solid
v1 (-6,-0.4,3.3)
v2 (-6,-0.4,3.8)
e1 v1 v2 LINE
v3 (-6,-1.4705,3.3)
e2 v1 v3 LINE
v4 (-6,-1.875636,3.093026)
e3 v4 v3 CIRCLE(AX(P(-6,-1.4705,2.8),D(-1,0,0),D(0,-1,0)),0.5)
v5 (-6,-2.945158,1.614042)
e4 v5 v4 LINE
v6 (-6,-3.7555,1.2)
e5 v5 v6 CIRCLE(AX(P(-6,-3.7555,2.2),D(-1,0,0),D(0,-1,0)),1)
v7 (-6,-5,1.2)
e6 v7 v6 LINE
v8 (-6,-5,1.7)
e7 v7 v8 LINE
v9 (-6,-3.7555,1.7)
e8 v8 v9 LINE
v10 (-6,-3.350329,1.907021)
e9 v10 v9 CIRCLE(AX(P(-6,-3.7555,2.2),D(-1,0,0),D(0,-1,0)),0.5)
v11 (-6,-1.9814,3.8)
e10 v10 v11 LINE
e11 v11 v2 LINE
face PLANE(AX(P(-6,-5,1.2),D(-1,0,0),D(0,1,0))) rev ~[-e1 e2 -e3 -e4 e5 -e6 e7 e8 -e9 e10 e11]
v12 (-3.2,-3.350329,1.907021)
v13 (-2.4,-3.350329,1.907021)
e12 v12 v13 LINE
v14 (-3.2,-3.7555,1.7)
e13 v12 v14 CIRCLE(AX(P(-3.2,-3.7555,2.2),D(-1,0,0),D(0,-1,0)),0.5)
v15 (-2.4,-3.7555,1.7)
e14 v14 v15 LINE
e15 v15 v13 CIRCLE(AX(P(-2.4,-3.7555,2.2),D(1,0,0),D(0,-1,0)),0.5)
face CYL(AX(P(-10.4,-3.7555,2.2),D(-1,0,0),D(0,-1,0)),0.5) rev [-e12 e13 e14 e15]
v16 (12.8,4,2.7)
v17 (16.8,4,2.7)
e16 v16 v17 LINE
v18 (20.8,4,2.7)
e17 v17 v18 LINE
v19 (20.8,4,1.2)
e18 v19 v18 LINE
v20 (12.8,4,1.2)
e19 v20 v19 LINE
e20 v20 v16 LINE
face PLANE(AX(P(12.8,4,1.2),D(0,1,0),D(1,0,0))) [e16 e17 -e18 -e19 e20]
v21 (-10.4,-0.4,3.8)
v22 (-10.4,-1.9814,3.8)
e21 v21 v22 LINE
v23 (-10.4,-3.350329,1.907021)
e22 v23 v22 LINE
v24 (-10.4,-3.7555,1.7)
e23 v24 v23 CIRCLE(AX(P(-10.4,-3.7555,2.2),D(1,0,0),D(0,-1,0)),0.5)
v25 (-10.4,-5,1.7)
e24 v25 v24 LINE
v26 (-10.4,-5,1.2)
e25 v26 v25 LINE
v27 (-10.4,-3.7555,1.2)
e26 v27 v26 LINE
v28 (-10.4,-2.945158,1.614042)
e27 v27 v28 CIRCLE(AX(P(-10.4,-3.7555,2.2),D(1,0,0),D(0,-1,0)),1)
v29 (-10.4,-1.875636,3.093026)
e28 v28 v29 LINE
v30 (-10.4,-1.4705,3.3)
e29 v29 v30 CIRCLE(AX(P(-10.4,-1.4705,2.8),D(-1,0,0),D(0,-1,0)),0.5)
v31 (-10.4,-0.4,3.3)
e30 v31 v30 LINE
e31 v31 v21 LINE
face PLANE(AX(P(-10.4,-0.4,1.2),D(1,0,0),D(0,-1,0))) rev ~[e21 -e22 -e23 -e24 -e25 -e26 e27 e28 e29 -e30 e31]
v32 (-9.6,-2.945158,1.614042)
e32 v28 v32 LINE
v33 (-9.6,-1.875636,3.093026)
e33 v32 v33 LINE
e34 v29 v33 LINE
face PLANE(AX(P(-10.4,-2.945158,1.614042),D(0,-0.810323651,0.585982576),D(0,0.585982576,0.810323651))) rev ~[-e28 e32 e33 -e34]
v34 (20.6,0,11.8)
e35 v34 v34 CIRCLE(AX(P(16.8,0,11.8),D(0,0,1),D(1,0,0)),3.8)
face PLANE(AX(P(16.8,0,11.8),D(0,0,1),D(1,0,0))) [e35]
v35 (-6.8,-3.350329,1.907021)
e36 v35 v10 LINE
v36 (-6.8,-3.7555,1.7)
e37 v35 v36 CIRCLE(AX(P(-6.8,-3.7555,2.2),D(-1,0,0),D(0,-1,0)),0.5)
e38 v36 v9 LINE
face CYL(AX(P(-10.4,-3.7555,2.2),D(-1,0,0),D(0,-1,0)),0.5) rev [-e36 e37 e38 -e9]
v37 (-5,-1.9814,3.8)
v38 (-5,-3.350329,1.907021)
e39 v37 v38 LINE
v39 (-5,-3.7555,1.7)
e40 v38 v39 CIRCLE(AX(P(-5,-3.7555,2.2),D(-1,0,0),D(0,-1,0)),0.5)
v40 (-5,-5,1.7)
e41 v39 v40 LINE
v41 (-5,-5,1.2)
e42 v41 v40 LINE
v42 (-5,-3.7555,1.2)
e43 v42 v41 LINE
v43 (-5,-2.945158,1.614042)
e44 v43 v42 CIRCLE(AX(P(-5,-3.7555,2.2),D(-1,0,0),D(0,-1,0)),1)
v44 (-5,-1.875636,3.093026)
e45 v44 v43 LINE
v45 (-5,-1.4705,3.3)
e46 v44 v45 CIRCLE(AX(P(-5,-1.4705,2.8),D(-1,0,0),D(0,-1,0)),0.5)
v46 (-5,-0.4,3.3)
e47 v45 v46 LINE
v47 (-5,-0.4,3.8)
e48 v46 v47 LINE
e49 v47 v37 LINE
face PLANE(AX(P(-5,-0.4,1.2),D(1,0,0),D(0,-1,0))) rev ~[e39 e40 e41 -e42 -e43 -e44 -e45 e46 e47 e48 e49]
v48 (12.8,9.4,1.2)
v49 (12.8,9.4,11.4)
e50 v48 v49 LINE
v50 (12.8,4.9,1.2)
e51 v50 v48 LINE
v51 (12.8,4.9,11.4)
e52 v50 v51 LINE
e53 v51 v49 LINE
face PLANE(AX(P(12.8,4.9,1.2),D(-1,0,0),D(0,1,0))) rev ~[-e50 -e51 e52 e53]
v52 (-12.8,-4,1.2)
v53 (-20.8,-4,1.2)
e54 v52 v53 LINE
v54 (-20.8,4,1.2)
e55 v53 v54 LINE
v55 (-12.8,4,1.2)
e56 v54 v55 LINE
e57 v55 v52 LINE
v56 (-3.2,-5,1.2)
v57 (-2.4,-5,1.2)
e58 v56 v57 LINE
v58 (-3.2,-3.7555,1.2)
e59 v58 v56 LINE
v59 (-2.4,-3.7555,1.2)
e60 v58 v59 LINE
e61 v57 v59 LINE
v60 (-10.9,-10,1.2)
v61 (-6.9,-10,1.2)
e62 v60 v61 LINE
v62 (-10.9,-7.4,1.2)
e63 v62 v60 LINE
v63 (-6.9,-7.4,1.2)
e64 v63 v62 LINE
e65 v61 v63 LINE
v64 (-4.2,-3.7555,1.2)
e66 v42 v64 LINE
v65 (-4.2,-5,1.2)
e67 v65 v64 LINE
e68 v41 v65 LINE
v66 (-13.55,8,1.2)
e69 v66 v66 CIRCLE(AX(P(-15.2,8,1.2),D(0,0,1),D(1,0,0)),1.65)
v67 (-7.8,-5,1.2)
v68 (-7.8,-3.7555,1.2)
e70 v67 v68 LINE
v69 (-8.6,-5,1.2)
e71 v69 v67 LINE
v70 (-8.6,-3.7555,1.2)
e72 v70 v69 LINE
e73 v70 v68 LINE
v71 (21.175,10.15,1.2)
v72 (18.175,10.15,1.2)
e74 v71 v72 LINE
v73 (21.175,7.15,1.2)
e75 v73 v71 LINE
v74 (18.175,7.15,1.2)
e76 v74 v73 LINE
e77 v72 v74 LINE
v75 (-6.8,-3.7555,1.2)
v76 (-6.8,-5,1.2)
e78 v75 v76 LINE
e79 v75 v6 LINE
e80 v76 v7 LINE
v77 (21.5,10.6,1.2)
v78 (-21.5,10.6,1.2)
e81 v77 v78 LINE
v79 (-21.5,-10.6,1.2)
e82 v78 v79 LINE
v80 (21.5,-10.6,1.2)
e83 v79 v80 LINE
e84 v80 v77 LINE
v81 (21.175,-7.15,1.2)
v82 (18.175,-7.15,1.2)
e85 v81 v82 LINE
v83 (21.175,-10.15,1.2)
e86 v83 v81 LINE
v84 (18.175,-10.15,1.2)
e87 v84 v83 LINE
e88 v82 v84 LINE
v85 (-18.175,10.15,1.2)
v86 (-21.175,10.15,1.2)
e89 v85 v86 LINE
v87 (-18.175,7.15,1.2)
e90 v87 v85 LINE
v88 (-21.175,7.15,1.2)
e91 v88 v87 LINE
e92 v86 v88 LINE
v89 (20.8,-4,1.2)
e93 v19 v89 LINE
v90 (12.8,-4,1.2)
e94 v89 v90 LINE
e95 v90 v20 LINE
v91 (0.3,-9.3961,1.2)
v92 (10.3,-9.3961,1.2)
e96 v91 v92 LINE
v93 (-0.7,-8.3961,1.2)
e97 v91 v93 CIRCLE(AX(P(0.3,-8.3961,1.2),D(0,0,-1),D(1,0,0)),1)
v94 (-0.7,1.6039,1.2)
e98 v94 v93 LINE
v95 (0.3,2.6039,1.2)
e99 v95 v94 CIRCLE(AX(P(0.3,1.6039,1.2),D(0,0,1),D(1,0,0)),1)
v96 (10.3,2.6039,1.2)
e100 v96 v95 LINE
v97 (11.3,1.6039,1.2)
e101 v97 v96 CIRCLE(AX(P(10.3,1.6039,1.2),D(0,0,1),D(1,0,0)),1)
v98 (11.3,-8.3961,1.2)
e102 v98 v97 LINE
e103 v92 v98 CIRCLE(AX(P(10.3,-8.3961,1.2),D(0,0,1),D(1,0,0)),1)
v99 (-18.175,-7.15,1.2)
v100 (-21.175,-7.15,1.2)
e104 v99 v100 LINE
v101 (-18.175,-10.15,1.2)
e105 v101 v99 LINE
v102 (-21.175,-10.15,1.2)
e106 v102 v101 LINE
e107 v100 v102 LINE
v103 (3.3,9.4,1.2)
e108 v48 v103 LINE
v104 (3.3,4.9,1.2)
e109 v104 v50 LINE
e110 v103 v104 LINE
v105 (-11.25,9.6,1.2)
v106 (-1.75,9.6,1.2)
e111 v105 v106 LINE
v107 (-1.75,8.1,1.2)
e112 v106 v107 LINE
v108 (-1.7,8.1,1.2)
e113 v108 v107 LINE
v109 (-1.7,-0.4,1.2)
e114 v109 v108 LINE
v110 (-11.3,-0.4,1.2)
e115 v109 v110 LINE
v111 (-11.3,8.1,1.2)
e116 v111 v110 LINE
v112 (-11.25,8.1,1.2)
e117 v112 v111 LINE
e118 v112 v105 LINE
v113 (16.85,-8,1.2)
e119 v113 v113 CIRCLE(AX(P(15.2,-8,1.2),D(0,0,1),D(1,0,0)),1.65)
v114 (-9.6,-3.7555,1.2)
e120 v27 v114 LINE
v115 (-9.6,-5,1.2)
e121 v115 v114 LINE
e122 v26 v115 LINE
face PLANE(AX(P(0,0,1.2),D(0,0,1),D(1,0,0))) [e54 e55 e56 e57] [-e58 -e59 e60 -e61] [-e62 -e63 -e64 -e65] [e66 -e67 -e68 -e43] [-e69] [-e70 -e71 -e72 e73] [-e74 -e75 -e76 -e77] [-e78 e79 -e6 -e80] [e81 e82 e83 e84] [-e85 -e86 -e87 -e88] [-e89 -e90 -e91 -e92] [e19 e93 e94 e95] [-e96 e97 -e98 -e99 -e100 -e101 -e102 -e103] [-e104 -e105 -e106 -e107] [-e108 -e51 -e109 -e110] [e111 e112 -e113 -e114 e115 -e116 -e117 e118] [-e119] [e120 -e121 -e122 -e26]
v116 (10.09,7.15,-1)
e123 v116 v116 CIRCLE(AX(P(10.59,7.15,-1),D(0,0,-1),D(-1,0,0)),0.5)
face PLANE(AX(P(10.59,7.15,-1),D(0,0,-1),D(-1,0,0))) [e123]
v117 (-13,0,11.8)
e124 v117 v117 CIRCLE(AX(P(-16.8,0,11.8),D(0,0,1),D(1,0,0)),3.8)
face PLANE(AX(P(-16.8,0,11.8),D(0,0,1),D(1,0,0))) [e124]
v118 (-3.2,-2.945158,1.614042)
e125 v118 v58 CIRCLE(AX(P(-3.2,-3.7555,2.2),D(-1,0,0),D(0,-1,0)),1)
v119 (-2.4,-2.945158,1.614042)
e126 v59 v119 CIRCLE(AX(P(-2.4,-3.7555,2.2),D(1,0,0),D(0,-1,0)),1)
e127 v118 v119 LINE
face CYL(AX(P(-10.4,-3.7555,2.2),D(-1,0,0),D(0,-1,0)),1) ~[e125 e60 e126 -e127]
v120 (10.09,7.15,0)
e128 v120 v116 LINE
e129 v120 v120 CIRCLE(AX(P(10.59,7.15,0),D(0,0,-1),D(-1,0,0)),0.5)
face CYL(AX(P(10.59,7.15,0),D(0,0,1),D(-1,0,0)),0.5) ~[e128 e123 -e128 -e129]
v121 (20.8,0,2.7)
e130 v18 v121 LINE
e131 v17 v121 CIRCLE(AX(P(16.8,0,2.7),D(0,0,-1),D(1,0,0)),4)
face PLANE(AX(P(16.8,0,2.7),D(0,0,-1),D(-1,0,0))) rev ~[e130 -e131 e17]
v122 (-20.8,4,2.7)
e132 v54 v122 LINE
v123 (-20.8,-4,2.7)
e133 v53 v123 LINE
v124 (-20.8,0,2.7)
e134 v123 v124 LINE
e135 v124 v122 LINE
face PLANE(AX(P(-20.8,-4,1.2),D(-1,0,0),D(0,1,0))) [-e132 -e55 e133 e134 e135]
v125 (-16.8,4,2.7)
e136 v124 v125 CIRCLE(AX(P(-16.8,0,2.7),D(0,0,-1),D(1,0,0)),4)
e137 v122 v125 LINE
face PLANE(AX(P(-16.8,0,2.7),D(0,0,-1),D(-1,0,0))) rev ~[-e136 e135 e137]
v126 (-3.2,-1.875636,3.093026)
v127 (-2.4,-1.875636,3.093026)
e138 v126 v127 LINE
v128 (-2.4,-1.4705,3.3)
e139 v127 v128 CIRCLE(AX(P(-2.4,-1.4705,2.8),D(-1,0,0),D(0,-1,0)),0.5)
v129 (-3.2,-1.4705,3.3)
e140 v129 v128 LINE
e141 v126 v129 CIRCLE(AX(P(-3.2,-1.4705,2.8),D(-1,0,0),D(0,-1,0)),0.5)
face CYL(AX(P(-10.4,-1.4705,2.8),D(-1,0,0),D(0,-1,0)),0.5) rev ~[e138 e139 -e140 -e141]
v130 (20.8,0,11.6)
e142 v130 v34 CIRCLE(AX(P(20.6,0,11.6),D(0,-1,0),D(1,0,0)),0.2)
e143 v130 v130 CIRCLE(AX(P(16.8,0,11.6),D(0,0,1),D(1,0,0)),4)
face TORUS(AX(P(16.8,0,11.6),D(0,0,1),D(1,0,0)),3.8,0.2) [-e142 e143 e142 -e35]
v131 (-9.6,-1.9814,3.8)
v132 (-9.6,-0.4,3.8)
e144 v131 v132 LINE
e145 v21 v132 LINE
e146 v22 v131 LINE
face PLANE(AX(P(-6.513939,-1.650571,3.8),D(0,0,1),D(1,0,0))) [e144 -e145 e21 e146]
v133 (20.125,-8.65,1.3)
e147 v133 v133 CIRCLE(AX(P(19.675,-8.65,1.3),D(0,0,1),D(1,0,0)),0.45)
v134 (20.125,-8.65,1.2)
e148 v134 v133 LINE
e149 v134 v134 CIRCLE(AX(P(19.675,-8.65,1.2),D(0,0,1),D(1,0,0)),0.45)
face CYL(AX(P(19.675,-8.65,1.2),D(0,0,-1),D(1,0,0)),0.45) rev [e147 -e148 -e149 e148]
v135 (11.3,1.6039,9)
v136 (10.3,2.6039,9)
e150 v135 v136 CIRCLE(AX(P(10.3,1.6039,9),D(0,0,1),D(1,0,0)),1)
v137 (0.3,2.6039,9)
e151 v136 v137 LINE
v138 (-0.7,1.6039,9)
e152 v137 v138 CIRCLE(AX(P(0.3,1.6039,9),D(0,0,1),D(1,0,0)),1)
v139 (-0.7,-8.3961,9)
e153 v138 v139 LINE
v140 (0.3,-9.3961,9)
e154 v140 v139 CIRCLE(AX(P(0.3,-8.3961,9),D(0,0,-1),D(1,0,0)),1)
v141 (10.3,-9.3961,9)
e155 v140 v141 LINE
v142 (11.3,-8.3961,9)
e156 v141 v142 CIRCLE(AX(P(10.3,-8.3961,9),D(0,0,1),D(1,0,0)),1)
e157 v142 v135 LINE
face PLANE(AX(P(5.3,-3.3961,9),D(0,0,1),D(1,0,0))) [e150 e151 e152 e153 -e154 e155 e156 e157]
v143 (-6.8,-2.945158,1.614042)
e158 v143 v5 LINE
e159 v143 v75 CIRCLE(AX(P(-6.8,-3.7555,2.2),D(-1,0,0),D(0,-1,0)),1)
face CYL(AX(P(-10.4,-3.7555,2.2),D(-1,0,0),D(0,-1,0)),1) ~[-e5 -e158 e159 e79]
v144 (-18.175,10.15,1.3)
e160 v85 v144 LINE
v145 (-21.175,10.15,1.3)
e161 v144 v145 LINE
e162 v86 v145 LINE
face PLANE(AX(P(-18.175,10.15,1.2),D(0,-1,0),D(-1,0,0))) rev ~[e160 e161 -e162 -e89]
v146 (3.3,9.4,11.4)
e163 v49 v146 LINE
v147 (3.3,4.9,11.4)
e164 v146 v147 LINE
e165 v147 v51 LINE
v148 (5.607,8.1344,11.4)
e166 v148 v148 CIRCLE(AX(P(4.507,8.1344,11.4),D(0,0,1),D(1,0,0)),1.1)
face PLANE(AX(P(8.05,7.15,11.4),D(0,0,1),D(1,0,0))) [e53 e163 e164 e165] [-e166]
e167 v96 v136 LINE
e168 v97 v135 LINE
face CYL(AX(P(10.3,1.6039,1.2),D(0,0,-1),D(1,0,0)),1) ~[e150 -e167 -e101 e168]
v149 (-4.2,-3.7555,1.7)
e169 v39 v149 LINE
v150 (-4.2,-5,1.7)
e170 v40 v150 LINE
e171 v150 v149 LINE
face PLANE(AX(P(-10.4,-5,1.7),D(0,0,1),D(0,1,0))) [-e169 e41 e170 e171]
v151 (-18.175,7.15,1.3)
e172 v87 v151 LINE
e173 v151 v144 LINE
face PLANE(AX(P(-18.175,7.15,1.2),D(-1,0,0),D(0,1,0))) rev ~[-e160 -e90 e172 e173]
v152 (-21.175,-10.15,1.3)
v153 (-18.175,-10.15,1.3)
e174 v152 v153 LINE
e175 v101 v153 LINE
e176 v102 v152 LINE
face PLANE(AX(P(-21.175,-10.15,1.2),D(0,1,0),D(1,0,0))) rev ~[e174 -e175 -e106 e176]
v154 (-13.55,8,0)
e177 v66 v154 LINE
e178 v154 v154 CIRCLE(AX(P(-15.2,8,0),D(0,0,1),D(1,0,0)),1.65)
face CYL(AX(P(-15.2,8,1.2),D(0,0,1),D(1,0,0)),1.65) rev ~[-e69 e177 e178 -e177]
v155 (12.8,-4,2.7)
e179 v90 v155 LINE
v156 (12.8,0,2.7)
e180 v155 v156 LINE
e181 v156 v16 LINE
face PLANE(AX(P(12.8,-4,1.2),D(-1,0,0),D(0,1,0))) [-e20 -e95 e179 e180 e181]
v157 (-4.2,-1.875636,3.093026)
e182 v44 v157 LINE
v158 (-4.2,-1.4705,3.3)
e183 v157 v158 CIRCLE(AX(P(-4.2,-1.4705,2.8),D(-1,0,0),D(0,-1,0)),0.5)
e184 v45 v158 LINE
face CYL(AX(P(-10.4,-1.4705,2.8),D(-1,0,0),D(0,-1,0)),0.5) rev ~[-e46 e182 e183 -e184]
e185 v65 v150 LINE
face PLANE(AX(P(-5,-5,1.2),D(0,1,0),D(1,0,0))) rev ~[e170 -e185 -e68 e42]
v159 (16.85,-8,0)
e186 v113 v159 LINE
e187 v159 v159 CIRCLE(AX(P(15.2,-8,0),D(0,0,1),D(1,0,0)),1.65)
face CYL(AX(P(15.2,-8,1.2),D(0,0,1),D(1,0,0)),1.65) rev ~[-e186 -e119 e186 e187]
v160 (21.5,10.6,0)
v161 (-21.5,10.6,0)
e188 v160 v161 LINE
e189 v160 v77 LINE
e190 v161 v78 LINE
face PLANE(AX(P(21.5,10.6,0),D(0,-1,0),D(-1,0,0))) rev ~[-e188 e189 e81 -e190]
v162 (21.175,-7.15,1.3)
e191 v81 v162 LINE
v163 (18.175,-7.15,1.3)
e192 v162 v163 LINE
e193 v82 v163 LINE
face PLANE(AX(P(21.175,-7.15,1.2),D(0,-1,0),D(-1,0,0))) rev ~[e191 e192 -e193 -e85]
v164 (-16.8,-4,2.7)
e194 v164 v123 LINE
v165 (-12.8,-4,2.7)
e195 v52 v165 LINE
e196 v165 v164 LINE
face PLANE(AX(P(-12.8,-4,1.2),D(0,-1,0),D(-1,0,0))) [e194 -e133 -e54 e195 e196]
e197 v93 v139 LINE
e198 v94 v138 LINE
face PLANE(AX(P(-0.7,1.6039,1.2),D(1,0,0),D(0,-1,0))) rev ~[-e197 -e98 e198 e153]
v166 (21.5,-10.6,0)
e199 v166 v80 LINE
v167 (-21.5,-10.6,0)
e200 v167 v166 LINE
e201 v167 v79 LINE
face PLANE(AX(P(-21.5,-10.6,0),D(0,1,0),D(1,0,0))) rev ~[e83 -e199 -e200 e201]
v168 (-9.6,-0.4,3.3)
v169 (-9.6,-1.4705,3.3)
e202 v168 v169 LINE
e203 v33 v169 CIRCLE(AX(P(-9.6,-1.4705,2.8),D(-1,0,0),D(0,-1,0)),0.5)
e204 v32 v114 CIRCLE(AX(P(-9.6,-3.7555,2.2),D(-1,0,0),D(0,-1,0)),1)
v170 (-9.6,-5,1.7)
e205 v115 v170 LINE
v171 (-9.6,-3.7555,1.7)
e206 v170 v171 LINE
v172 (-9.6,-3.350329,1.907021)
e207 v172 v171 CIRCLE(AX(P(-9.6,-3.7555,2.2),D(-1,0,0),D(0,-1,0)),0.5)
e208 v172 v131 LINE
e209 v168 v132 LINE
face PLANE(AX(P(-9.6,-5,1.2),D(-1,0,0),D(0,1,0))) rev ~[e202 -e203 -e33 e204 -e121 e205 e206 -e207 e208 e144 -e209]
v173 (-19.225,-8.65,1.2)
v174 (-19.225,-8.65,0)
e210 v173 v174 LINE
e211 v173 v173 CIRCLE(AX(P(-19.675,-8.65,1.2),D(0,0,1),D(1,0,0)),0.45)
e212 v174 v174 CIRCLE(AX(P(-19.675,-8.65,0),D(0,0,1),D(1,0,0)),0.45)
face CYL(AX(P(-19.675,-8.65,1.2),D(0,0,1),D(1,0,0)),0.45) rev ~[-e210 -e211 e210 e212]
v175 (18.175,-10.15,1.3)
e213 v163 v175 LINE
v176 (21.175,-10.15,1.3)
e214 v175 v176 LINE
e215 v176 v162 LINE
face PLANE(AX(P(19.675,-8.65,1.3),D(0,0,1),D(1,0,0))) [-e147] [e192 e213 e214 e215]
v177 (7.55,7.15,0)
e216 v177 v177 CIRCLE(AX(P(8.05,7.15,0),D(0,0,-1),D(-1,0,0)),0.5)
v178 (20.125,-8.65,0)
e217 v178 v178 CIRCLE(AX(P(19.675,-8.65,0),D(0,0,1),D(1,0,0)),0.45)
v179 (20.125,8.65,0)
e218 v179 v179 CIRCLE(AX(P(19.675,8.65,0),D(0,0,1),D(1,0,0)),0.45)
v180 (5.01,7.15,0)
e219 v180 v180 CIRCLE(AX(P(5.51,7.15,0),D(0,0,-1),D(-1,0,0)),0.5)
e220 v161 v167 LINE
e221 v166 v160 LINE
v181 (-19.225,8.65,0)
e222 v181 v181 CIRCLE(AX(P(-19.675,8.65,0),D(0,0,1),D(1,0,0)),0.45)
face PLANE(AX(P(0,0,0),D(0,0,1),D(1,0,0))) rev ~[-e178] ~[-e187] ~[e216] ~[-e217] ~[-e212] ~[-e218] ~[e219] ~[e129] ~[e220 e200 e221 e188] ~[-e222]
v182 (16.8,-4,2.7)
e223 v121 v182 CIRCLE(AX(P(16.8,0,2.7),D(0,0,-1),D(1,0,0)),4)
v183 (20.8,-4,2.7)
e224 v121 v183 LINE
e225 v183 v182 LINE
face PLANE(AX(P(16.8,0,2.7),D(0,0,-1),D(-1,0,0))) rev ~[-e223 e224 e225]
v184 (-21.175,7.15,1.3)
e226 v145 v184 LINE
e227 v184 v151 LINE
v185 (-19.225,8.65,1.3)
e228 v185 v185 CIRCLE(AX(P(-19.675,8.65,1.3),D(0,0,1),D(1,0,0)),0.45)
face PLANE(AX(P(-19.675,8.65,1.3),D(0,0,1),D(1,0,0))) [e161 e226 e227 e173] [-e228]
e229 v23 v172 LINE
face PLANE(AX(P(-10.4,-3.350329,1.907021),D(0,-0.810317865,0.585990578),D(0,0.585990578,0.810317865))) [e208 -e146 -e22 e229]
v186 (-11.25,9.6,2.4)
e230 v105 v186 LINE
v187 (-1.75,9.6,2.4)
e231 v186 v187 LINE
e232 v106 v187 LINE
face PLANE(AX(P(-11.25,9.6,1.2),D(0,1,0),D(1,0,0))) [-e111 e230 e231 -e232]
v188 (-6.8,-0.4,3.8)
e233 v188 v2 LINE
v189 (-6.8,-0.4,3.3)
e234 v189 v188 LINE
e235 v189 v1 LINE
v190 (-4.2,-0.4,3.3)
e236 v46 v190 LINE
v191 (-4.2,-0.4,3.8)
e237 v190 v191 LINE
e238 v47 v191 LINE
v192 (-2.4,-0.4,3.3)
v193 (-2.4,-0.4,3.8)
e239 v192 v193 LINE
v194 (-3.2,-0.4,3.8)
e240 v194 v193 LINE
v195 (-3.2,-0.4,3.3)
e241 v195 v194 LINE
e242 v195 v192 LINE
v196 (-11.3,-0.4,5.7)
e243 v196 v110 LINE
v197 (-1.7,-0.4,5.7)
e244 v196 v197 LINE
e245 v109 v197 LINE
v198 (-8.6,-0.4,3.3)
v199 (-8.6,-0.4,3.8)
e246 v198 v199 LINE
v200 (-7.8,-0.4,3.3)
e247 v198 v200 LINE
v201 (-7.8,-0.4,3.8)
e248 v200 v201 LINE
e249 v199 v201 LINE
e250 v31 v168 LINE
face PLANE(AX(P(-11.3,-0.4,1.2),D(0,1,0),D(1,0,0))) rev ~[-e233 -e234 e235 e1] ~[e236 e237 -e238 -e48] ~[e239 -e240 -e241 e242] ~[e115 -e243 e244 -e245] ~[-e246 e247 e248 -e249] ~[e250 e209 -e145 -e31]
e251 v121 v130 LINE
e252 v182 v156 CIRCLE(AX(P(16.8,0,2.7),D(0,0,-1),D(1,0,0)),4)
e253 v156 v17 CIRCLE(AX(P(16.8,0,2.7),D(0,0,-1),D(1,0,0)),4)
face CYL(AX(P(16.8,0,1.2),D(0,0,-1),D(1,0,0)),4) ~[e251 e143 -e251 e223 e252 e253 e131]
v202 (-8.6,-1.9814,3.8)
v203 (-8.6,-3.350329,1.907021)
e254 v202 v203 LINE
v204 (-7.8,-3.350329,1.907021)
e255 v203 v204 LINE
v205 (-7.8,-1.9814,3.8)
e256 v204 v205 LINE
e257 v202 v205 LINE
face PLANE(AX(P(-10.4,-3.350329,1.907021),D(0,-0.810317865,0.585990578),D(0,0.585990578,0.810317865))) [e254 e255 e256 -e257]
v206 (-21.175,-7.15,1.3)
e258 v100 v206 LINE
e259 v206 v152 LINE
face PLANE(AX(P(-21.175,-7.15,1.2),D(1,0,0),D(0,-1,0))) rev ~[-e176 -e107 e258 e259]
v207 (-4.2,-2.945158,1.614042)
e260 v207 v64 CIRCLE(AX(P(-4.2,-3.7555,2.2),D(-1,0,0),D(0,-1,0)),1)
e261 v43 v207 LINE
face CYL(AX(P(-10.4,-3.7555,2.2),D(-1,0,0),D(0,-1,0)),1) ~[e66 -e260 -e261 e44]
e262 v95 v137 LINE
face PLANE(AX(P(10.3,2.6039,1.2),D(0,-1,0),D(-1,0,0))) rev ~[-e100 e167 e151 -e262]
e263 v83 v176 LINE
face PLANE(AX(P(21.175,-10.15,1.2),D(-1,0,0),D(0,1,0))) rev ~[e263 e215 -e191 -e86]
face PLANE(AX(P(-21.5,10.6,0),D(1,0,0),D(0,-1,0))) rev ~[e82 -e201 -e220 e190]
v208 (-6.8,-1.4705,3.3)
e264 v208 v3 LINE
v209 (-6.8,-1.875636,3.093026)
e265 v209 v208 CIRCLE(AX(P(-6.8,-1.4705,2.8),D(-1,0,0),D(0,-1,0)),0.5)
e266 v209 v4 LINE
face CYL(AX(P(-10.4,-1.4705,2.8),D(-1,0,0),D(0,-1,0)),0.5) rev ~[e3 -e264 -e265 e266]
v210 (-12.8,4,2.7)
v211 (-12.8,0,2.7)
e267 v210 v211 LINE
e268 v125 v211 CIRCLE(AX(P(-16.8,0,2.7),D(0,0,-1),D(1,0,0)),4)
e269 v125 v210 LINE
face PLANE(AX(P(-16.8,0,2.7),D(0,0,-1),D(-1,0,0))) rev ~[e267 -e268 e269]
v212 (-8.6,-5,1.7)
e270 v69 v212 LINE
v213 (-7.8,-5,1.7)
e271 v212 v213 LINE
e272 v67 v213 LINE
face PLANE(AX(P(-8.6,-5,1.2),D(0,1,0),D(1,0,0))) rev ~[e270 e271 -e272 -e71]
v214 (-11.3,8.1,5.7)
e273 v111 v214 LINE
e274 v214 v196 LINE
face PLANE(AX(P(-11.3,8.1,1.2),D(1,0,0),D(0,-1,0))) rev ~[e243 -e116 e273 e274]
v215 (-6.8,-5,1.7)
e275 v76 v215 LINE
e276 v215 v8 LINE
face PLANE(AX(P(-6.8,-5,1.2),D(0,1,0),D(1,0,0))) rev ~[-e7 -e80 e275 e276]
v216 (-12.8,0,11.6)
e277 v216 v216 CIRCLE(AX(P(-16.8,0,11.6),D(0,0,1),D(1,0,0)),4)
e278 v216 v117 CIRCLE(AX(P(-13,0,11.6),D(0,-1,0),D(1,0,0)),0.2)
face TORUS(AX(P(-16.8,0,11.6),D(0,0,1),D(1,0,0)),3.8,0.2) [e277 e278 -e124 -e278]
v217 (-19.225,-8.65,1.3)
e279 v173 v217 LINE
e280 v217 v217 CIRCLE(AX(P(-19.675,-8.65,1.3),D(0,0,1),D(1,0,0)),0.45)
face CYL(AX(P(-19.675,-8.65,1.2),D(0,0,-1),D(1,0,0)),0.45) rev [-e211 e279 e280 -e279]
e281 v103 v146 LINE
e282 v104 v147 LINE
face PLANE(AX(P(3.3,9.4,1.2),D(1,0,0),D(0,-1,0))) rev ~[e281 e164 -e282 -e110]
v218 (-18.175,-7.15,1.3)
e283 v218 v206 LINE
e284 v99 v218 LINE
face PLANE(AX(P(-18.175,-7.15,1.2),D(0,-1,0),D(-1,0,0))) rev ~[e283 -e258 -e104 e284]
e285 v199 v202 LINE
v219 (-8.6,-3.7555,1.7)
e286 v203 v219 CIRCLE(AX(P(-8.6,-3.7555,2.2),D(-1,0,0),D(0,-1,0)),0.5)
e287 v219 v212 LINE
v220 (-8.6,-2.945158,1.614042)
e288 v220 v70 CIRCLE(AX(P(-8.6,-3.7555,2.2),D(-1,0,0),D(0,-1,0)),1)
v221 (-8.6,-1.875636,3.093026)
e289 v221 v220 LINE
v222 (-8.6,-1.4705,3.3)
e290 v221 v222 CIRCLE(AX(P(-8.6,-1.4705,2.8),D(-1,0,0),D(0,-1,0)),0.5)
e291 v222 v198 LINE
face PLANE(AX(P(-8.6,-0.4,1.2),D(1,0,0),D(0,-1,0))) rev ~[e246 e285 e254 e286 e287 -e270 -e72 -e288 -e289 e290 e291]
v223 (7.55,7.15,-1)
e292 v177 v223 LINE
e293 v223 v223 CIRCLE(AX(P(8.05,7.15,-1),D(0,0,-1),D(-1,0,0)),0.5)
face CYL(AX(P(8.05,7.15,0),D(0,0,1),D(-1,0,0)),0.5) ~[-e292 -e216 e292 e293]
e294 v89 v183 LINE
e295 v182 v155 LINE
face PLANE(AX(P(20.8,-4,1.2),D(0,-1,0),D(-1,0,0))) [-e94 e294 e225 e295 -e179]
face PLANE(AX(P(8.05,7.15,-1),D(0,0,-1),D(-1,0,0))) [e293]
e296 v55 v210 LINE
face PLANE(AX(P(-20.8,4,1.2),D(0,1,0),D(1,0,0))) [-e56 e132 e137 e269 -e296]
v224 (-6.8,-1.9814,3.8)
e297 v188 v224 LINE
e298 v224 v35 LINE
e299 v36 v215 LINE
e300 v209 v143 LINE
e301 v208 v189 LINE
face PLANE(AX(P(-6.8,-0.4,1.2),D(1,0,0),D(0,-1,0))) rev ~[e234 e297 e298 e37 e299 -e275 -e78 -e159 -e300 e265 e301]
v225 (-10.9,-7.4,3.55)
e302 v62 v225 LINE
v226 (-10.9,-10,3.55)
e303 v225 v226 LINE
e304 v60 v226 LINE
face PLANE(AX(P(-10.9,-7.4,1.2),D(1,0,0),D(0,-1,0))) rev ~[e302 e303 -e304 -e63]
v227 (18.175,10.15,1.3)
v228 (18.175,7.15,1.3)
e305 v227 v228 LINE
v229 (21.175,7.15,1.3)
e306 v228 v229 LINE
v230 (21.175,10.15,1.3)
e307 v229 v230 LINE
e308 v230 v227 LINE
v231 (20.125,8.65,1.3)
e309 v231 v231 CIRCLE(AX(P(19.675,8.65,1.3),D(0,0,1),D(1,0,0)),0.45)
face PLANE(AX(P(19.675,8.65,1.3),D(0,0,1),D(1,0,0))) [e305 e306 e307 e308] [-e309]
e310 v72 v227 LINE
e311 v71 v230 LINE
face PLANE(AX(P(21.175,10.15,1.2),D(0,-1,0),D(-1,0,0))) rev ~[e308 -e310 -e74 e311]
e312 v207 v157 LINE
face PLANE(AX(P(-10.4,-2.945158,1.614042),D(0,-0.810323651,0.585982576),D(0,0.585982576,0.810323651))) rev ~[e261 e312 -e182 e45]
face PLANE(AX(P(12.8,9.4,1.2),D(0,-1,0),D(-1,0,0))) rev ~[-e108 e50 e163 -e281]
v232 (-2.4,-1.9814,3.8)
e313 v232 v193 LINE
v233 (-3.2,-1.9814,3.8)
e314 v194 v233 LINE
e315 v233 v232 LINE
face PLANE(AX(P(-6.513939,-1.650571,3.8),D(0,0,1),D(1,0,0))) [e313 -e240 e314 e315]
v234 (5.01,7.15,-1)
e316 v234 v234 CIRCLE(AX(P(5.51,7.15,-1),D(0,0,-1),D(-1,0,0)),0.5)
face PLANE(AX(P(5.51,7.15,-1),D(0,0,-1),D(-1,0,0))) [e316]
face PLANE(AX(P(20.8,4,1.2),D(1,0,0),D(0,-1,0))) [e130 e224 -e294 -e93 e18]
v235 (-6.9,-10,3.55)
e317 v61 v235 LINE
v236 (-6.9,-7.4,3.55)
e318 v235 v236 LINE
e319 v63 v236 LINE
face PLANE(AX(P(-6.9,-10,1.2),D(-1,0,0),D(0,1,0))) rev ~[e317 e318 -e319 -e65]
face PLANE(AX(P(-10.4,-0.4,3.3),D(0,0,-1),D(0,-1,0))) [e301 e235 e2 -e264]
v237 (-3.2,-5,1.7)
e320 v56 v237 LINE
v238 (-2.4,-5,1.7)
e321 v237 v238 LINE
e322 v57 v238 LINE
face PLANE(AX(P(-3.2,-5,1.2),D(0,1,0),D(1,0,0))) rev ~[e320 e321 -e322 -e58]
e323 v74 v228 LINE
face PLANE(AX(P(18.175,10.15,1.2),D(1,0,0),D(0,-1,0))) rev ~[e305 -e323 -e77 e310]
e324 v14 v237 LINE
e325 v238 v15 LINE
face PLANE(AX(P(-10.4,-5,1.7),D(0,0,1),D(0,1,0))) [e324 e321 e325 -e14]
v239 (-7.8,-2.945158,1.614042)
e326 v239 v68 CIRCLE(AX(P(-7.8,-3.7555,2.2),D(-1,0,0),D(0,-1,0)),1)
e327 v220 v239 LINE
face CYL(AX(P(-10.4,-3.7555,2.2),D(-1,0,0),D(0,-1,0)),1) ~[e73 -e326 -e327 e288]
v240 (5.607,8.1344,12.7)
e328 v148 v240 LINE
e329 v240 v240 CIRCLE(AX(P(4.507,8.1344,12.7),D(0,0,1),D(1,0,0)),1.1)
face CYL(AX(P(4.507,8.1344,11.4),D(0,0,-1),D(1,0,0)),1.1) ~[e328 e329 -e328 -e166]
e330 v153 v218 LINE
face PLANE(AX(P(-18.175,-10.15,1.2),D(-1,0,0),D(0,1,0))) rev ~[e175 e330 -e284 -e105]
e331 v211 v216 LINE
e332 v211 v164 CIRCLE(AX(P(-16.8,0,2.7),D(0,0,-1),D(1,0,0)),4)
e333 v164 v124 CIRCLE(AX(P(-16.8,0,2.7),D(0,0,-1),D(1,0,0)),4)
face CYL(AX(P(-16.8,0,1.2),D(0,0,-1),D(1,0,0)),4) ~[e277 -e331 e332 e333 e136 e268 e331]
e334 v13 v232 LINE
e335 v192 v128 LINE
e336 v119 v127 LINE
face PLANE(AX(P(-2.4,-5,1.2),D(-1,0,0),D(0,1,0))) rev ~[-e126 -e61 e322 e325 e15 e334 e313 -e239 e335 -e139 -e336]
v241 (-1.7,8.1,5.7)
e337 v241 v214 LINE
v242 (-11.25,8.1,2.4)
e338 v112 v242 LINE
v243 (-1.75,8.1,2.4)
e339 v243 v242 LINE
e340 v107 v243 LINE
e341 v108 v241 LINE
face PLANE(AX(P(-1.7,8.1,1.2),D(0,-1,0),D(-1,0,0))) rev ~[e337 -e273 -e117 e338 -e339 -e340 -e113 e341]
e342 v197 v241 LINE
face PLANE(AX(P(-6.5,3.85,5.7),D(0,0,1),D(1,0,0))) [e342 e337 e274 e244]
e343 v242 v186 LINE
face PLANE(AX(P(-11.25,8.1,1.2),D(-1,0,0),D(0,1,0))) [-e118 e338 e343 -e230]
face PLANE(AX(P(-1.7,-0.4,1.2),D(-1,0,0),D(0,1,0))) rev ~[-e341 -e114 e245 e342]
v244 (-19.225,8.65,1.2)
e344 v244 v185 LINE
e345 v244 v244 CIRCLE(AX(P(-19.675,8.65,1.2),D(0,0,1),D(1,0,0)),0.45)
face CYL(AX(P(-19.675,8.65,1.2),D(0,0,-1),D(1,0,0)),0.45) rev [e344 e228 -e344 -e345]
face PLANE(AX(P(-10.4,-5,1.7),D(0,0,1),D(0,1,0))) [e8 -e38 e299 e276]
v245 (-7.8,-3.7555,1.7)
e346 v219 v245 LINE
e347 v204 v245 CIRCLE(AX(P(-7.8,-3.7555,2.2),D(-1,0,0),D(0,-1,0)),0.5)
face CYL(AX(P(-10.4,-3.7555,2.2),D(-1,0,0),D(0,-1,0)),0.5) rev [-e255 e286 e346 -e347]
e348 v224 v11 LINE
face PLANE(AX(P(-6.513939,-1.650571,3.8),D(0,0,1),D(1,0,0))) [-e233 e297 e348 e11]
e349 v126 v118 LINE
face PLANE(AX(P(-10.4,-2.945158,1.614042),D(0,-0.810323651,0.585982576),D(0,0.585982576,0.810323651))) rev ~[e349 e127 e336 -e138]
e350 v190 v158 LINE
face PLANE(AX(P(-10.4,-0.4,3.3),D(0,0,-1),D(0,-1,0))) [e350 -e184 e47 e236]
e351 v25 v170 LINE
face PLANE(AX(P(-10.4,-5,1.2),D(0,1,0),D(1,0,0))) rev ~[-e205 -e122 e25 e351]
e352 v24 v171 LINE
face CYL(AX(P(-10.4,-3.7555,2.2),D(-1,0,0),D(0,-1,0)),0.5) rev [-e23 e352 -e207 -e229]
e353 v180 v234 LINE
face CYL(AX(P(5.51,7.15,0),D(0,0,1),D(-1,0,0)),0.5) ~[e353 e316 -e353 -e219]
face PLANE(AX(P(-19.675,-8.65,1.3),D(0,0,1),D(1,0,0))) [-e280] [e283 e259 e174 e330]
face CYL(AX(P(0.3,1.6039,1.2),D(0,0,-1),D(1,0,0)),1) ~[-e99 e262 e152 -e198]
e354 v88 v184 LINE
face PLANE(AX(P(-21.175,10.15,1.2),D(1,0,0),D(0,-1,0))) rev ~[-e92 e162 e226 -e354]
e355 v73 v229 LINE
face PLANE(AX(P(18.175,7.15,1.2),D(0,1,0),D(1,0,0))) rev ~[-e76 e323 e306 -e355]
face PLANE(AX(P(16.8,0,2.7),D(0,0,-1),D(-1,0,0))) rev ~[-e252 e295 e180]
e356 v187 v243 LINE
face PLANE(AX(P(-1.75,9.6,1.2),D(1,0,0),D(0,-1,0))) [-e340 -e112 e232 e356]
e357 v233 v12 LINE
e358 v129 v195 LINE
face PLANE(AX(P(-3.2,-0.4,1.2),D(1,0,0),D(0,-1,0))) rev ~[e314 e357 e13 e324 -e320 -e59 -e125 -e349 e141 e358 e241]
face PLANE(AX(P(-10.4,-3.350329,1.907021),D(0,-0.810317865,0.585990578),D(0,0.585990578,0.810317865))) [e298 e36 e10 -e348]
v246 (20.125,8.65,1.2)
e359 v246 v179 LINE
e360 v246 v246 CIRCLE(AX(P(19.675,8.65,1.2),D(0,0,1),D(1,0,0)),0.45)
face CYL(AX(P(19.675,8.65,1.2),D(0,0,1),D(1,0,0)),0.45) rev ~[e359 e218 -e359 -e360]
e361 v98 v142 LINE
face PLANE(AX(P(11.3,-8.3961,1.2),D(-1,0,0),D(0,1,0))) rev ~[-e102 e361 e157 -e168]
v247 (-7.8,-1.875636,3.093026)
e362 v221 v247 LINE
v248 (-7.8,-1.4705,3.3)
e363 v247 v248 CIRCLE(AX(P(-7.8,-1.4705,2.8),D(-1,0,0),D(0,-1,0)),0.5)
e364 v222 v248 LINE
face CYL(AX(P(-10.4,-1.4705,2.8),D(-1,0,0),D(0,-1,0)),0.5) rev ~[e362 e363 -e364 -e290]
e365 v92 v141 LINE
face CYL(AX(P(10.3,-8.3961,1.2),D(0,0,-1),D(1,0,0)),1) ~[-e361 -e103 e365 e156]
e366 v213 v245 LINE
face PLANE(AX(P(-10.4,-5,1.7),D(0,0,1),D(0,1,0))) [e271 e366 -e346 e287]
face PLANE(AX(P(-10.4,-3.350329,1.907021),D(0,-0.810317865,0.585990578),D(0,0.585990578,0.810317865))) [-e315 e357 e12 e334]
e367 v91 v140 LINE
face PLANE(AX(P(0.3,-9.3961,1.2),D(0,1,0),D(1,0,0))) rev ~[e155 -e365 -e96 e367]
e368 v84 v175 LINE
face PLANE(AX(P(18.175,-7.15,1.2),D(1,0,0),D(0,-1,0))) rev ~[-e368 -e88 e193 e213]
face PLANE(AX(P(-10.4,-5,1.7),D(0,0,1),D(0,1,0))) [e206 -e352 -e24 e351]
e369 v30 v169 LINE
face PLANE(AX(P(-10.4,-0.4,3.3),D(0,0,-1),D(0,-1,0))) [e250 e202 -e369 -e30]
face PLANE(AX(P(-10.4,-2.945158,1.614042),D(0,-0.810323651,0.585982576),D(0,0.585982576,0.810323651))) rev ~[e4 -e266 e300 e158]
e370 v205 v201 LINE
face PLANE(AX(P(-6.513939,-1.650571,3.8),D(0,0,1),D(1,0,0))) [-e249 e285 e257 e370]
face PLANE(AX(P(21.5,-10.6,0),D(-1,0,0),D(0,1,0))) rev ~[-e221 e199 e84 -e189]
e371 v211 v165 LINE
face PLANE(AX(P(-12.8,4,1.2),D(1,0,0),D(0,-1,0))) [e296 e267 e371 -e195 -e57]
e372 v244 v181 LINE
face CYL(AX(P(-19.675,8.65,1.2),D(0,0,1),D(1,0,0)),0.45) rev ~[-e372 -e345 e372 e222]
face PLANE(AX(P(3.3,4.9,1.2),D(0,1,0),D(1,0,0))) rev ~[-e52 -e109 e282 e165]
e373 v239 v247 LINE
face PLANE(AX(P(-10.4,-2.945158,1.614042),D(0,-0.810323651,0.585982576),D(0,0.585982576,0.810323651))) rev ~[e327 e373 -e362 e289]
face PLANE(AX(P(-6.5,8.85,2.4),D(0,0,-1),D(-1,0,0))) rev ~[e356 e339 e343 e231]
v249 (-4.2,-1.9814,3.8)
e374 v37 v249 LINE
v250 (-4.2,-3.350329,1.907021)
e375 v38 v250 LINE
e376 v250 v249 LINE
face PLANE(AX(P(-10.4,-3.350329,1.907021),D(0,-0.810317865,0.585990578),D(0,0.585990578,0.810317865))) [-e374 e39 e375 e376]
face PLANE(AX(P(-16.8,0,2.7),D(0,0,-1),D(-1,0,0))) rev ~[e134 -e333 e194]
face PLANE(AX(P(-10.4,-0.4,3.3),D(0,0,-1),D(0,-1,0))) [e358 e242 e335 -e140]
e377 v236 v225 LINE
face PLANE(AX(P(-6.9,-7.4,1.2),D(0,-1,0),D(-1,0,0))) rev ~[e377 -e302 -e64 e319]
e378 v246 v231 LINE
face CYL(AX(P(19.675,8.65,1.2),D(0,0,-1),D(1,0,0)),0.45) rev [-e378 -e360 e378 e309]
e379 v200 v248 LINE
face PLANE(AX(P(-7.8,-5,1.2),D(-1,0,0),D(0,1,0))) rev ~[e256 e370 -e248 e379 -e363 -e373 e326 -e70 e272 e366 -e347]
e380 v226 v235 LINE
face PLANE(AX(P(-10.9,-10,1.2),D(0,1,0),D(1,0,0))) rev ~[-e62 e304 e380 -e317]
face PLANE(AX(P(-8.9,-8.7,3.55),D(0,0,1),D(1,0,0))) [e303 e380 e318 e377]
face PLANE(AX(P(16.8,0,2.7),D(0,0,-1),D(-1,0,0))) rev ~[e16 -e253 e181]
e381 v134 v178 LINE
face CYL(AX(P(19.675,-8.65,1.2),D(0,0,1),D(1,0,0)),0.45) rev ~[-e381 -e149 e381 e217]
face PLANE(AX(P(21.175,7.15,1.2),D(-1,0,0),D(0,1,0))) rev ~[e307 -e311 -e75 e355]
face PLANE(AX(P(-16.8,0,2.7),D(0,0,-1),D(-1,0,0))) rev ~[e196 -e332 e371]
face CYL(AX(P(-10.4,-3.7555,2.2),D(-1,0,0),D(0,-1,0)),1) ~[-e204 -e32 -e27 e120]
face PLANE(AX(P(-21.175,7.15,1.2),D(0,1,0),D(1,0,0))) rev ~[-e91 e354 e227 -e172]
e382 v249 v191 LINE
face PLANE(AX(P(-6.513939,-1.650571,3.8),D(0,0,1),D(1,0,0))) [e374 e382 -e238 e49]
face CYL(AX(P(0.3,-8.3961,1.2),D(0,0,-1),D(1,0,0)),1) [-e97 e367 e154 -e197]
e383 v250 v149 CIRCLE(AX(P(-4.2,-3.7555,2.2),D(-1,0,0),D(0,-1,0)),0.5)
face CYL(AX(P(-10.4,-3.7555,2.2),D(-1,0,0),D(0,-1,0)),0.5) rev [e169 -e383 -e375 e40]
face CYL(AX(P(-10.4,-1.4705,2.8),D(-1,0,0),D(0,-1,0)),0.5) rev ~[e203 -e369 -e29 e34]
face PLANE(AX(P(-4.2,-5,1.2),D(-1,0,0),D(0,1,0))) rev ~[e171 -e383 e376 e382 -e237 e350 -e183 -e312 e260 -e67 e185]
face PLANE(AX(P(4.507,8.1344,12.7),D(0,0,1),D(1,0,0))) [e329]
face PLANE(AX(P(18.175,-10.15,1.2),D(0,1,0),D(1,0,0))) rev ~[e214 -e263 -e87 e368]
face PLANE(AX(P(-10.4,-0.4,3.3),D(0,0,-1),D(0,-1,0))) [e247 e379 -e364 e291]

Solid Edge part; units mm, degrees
sketch "Sketch1" plane through (0, 0, 0) normal (0, 0, 1) x (1, 0, 0)
  line L0 (-21.5, -10.6) -> (21.5, -10.6)
  line L1 (21.5, -10.6) -> (21.5, 10.6)
  line L2 (21.5, 10.6) -> (-21.5, 10.6)
  line L3 (-21.5, 10.6) -> (-21.5, -10.6)
  dimension "D1" = 43
  dimension "D2" = 21.2
extrude "Protrusion1" add sketch "Sketch1" along normal blind 1.2
sketch "Sketch2" plane through (0, 0, 1.2) normal (0, 0, 1) x (1, 0, 0)
  circle A0 centre (-16.8, 0) radius 4
  circle A1 centre (16.8, 0) radius 4
  dimension "D1" = 8
  dimension "D2" = 8
extrude "ExtrudedProtrusion_2" add sketch "Sketch2" along normal blind 10.6
sketch "Sketch3" plane through (0, 0, 1.2) normal (0, 0, 1) x (1, 0, 0)
  line L0 (-12.8, -4) -> (-20.8, -4)
  line L1 (-20.8, -4) -> (-20.8, 4)
  line L2 (-20.8, 4) -> (-12.8, 4)
  line L3 (-12.8, 4) -> (-12.8, -4)
  line L4 (20.8, -4) -> (12.8, -4)
  line L5 (12.8, -4) -> (12.8, 4)
  line L6 (12.8, 4) -> (20.8, 4)
  line L7 (20.8, 4) -> (20.8, -4)
extrude "ExtrudedProtrusion_3" add sketch "Sketch3" along normal blind 1.5
sketch "Sketch4" plane through (0, 0, 1.2) normal (0, 0, 1) x (1, 0, 0)
  line L0 (0.3, -9.3961) -> (10.3, -9.3961)
  arc A0 (10.3, -9.3961) -> (11.3, -8.3961) centre (10.3, -8.3961) ccw
  line L1 (11.3, -8.3961) -> (11.3, 1.6039)
  arc A1 (11.3, 1.6039) -> (10.3, 2.6039) centre (10.3, 1.6039) ccw
  line L2 (10.3, 2.6039) -> (0.3, 2.6039)
  arc A2 (0.3, 2.6039) -> (-0.7, 1.6039) centre (0.3, 1.6039) ccw
  line L3 (-0.7, 1.6039) -> (-0.7, -8.3961)
  arc A3 (0.3, -9.3961) -> (-0.7, -8.3961) centre (0.3, -8.3961) cw
  dimension "D1" = 10
  dimension "D2" = 10
  dimension "D3" = 1
  dimension "D4" = 1
  dimension "D5" = 1
  dimension "D6" = 1
extrude "ExtrudedProtrusion_4" add sketch "Sketch4" along normal blind 7.8
sketch "Sketch5" plane through (0, 0, 1.2) normal (0, 0, 1) x (1, 0, 0)
  line L0 (3.3, 4.9) -> (12.8, 4.9)
  line L1 (12.8, 4.9) -> (12.8, 9.4)
  line L2 (12.8, 9.4) -> (3.3, 9.4)
  line L3 (3.3, 9.4) -> (3.3, 4.9)
  dimension "D1" = 9.5
  dimension "D2" = 4.5
extrude "ExtrudedProtrusion_5" add sketch "Sketch5" along normal blind 10.2
sketch "Sketch6" plane through (8.05, 7.15, 11.4) normal (0, 0, 1) x (1, 0, 0)
  circle A0 centre (-3.543, 0.9844) radius 1.1
  dimension "D1" = 2.2
extrude "ExtrudedProtrusion_6" add sketch "Sketch6" along normal blind 1.3
sketch "Sketch7" plane through (0, 0, 1.2) normal (0, 0, 1) x (1, 0, 0)
  line L0 (-10.9, -10) -> (-6.9, -10)
  line L1 (-6.9, -10) -> (-6.9, -7.4)
  line L2 (-6.9, -7.4) -> (-10.9, -7.4)
  line L3 (-10.9, -7.4) -> (-10.9, -10)
  dimension "D1" = 4
  dimension "D2" = 2.6
extrude "ExtrudedProtrusion_7" add sketch "Sketch7" along normal blind 2.35
sketch "Sketch8" plane through (0, 0, 1.2) normal (0, 0, 1) x (1, 0, 0)
  line L0 (-11.3, -0.4) -> (-1.7, -0.4)
  line L1 (-1.7, -0.4) -> (-1.7, 8.1)
  line L2 (-1.7, 8.1) -> (-11.3, 8.1)
  line L3 (-11.3, 8.1) -> (-11.3, -0.4)
  dimension "D1" = 9.6
  dimension "D2" = 8.5
extrude "ExtrudedProtrusion_8" add sketch "Sketch8" along normal blind 4.5
sketch "Sketch9" plane through (0, 0, 1.2) normal (0, 0, 1) x (0, -1, 0)
  line L0 (-8.1, -11.25) -> (-9.6, -11.25)
  line L1 (-9.6, -11.25) -> (-9.6, -1.75)
  line L2 (-9.6, -1.75) -> (-8.1, -1.75)
  line L3 (-8.1, -1.75) -> (-8.1, -11.25)
extrude "ExtrudedProtrusion_9" add sketch "Sketch9" along normal blind 1.2
sketch "Sketch10" plane through (0, 0, 1.2) normal (0, 0, 1) x (1, 0, 0)
  line L0 (-11.3, -0.4) -> (-10.4, -0.4)
  line L1 (-10.4, -0.4) -> (-10.4, -5)
  line L2 (-10.4, -5) -> (-9.6, -5)
  line L3 (-9.6, -5) -> (-9.6, -0.4)
  line L4 (-9.6, -0.4) -> (-8.6, -0.4)
  line L5 (-8.6, -0.4) -> (-8.6, -5)
  line L6 (-8.6, -5) -> (-7.8, -5)
  line L7 (-7.8, -5) -> (-7.8, -0.4)
  line L8 (-7.8, -0.4) -> (-6.8, -0.4)
  line L9 (-6.8, -0.4) -> (-6.8, -5)
  line L10 (-6.8, -5) -> (-6, -5)
  line L11 (-6, -5) -> (-6, -0.4)
  line L12 (-6, -0.4) -> (-5, -0.4)
  line L13 (-5, -0.4) -> (-5, -5)
  line L14 (-5, -5) -> (-4.2, -5)
  line L15 (-4.2, -5) -> (-4.2, -0.4)
  line L16 (-4.2, -0.4) -> (-3.2, -0.4)
  line L17 (-3.2, -0.4) -> (-3.2, -5)
  line L18 (-3.2, -5) -> (-2.4, -5)
  line L19 (-2.4, -5) -> (-2.4, -0.4)
  line L20 (-2.4, -0.4) -> (-3.7, 3.4708)
  line L21 (-3.7, 3.4708) -> (-9.2928, 3.4708)
  line L22 (-9.2928, 3.4708) -> (-11.3, -0.4)
  dimension "D1" = 0.9
  dimension "D2" = 4.6
  dimension "D3" = 0.8
  dimension "D4" = 1
  dimension "D5" = 0.8
  dimension "D6" = 1
  dimension "D7" = 0.8
  dimension "D8" = 1
  dimension "D9" = 0.8
  dimension "D10" = 1
  dimension "D11" = 0.8
extrude "ExtrudedProtrusion_10" add sketch "Sketch10" along normal blind 2.6
sketch "Sketch11" plane through (-10.4, -2.7, 2.5) normal (-1, 0, 0) x (0, -1, 0)
  line L0 (2.3, -0.8) -> (1.0555, -0.8)
  arc A0 (1.0555, -0.8) -> (0.6503, -0.593) centre (1.0555, -0.3) cw
  line L1 (0.6503, -0.593) -> (-0.7186, 1.3)
  line L2 (-0.7186, 1.3) -> (2.3, 1.3)
  line L3 (2.3, 1.3) -> (2.3, -0.8)
  arc A1 (1.0555, -1.3) -> (0.2451, -0.886) centre (1.0555, -0.3) cw
  line L4 (0.2451, -0.886) -> (-0.8244, 0.593)
  arc A2 (-0.8244, 0.593) -> (-1.2295, 0.8) centre (-1.2295, 0.3) ccw
  line L5 (-2.3, 0.8) -> (-1.2295, 0.8)
  line L6 (-2.3, -1.3) -> (-2.3, 0.8)
  line L7 (1.0555, -1.3) -> (-2.3, -1.3)
  dimension "D1" = 0.5
  dimension "D2" = 1.2445
  dimension "D3" = 0.5
  dimension "D4" = 0.5
  dimension "D5" = 0.5
extrude "Cutout1" cut sketch "Sketch11" against normal up to vertex (8 mm away)
sketch "Sketch12" plane through (0, 0, 1.2) normal (0, 0, 1) x (1, 0, 0)
  circle A0 centre (-15.2, 8) radius 1.65
  circle A1 centre (15.2, -8) radius 1.65
  dimension "D1" = 3.3
  dimension "D2" = 3.3
extrude "Cutout2" cut sketch "Sketch12" against normal up to next
sketch "Sketch13" plane through (0, 0, 1.2) normal (0, 0, 1) x (1, 0, 0)
  circle A0 centre (-19.675, 8.65) radius 0.45
  circle A1 centre (19.675, 8.65) radius 0.45
  circle A2 centre (19.675, -8.65) radius 0.45
  circle A3 centre (-19.675, -8.65) radius 0.45
extrude "Cutout3" cut sketch "Sketch13" against normal up to next
sketch "Sketch14" plane through (0, 0, 1.2) normal (0, 0, 1) x (1, 0, 0)
  circle A0 centre (-19.675, 8.65) radius 0.45
  line L0 (-21.175, 7.15) -> (-18.175, 7.15)
  line L1 (-18.175, 7.15) -> (-18.175, 10.15)
  line L2 (-18.175, 10.15) -> (-21.175, 10.15)
  line L3 (-21.175, 10.15) -> (-21.175, 7.15)
  circle A1 centre (-19.675, -8.65) radius 0.45
  line L4 (-21.175, -10.15) -> (-18.175, -10.15)
  line L5 (-18.175, -10.15) -> (-18.175, -7.15)
  line L6 (-18.175, -7.15) -> (-21.175, -7.15)
  line L7 (-21.175, -7.15) -> (-21.175, -10.15)
  line L8 (18.175, 7.15) -> (21.175, 7.15)
  line L9 (21.175, 7.15) -> (21.175, 10.15)
  line L10 (21.175, 10.15) -> (18.175, 10.15)
  line L11 (18.175, 10.15) -> (18.175, 7.15)
  line L12 (18.175, -10.15) -> (21.175, -10.15)
  line L13 (21.175, -10.15) -> (21.175, -7.15)
  line L14 (21.175, -7.15) -> (18.175, -7.15)
  line L15 (18.175, -7.15) -> (18.175, -10.15)
  circle A2 centre (19.675, -8.65) radius 0.45
  circle A3 centre (19.675, 8.65) radius 0.45
extrude "ExtrudedProtrusion_11" add sketch "Sketch14" along normal blind 0.1
sketch "Sketch15" plane through (0, 0, 0) normal (0, 0, -1) x (-1, 0, 0)
  circle A0 centre (-10.59, 7.15) radius 0.5
  circle A1 centre (-8.05, 7.15) radius 0.5
  circle A2 centre (-5.51, 7.15) radius 0.5
  dimension "D1" = 1
  dimension "D2" = 1
  dimension "D3" = 1
extrude "ExtrudedProtrusion_12" add sketch "Sketch15" along normal blind 1
fillet "Round_1" radius 0.2 2 edges at (-20.8, 0, 11.8) (12.8, 0, 11.8)
